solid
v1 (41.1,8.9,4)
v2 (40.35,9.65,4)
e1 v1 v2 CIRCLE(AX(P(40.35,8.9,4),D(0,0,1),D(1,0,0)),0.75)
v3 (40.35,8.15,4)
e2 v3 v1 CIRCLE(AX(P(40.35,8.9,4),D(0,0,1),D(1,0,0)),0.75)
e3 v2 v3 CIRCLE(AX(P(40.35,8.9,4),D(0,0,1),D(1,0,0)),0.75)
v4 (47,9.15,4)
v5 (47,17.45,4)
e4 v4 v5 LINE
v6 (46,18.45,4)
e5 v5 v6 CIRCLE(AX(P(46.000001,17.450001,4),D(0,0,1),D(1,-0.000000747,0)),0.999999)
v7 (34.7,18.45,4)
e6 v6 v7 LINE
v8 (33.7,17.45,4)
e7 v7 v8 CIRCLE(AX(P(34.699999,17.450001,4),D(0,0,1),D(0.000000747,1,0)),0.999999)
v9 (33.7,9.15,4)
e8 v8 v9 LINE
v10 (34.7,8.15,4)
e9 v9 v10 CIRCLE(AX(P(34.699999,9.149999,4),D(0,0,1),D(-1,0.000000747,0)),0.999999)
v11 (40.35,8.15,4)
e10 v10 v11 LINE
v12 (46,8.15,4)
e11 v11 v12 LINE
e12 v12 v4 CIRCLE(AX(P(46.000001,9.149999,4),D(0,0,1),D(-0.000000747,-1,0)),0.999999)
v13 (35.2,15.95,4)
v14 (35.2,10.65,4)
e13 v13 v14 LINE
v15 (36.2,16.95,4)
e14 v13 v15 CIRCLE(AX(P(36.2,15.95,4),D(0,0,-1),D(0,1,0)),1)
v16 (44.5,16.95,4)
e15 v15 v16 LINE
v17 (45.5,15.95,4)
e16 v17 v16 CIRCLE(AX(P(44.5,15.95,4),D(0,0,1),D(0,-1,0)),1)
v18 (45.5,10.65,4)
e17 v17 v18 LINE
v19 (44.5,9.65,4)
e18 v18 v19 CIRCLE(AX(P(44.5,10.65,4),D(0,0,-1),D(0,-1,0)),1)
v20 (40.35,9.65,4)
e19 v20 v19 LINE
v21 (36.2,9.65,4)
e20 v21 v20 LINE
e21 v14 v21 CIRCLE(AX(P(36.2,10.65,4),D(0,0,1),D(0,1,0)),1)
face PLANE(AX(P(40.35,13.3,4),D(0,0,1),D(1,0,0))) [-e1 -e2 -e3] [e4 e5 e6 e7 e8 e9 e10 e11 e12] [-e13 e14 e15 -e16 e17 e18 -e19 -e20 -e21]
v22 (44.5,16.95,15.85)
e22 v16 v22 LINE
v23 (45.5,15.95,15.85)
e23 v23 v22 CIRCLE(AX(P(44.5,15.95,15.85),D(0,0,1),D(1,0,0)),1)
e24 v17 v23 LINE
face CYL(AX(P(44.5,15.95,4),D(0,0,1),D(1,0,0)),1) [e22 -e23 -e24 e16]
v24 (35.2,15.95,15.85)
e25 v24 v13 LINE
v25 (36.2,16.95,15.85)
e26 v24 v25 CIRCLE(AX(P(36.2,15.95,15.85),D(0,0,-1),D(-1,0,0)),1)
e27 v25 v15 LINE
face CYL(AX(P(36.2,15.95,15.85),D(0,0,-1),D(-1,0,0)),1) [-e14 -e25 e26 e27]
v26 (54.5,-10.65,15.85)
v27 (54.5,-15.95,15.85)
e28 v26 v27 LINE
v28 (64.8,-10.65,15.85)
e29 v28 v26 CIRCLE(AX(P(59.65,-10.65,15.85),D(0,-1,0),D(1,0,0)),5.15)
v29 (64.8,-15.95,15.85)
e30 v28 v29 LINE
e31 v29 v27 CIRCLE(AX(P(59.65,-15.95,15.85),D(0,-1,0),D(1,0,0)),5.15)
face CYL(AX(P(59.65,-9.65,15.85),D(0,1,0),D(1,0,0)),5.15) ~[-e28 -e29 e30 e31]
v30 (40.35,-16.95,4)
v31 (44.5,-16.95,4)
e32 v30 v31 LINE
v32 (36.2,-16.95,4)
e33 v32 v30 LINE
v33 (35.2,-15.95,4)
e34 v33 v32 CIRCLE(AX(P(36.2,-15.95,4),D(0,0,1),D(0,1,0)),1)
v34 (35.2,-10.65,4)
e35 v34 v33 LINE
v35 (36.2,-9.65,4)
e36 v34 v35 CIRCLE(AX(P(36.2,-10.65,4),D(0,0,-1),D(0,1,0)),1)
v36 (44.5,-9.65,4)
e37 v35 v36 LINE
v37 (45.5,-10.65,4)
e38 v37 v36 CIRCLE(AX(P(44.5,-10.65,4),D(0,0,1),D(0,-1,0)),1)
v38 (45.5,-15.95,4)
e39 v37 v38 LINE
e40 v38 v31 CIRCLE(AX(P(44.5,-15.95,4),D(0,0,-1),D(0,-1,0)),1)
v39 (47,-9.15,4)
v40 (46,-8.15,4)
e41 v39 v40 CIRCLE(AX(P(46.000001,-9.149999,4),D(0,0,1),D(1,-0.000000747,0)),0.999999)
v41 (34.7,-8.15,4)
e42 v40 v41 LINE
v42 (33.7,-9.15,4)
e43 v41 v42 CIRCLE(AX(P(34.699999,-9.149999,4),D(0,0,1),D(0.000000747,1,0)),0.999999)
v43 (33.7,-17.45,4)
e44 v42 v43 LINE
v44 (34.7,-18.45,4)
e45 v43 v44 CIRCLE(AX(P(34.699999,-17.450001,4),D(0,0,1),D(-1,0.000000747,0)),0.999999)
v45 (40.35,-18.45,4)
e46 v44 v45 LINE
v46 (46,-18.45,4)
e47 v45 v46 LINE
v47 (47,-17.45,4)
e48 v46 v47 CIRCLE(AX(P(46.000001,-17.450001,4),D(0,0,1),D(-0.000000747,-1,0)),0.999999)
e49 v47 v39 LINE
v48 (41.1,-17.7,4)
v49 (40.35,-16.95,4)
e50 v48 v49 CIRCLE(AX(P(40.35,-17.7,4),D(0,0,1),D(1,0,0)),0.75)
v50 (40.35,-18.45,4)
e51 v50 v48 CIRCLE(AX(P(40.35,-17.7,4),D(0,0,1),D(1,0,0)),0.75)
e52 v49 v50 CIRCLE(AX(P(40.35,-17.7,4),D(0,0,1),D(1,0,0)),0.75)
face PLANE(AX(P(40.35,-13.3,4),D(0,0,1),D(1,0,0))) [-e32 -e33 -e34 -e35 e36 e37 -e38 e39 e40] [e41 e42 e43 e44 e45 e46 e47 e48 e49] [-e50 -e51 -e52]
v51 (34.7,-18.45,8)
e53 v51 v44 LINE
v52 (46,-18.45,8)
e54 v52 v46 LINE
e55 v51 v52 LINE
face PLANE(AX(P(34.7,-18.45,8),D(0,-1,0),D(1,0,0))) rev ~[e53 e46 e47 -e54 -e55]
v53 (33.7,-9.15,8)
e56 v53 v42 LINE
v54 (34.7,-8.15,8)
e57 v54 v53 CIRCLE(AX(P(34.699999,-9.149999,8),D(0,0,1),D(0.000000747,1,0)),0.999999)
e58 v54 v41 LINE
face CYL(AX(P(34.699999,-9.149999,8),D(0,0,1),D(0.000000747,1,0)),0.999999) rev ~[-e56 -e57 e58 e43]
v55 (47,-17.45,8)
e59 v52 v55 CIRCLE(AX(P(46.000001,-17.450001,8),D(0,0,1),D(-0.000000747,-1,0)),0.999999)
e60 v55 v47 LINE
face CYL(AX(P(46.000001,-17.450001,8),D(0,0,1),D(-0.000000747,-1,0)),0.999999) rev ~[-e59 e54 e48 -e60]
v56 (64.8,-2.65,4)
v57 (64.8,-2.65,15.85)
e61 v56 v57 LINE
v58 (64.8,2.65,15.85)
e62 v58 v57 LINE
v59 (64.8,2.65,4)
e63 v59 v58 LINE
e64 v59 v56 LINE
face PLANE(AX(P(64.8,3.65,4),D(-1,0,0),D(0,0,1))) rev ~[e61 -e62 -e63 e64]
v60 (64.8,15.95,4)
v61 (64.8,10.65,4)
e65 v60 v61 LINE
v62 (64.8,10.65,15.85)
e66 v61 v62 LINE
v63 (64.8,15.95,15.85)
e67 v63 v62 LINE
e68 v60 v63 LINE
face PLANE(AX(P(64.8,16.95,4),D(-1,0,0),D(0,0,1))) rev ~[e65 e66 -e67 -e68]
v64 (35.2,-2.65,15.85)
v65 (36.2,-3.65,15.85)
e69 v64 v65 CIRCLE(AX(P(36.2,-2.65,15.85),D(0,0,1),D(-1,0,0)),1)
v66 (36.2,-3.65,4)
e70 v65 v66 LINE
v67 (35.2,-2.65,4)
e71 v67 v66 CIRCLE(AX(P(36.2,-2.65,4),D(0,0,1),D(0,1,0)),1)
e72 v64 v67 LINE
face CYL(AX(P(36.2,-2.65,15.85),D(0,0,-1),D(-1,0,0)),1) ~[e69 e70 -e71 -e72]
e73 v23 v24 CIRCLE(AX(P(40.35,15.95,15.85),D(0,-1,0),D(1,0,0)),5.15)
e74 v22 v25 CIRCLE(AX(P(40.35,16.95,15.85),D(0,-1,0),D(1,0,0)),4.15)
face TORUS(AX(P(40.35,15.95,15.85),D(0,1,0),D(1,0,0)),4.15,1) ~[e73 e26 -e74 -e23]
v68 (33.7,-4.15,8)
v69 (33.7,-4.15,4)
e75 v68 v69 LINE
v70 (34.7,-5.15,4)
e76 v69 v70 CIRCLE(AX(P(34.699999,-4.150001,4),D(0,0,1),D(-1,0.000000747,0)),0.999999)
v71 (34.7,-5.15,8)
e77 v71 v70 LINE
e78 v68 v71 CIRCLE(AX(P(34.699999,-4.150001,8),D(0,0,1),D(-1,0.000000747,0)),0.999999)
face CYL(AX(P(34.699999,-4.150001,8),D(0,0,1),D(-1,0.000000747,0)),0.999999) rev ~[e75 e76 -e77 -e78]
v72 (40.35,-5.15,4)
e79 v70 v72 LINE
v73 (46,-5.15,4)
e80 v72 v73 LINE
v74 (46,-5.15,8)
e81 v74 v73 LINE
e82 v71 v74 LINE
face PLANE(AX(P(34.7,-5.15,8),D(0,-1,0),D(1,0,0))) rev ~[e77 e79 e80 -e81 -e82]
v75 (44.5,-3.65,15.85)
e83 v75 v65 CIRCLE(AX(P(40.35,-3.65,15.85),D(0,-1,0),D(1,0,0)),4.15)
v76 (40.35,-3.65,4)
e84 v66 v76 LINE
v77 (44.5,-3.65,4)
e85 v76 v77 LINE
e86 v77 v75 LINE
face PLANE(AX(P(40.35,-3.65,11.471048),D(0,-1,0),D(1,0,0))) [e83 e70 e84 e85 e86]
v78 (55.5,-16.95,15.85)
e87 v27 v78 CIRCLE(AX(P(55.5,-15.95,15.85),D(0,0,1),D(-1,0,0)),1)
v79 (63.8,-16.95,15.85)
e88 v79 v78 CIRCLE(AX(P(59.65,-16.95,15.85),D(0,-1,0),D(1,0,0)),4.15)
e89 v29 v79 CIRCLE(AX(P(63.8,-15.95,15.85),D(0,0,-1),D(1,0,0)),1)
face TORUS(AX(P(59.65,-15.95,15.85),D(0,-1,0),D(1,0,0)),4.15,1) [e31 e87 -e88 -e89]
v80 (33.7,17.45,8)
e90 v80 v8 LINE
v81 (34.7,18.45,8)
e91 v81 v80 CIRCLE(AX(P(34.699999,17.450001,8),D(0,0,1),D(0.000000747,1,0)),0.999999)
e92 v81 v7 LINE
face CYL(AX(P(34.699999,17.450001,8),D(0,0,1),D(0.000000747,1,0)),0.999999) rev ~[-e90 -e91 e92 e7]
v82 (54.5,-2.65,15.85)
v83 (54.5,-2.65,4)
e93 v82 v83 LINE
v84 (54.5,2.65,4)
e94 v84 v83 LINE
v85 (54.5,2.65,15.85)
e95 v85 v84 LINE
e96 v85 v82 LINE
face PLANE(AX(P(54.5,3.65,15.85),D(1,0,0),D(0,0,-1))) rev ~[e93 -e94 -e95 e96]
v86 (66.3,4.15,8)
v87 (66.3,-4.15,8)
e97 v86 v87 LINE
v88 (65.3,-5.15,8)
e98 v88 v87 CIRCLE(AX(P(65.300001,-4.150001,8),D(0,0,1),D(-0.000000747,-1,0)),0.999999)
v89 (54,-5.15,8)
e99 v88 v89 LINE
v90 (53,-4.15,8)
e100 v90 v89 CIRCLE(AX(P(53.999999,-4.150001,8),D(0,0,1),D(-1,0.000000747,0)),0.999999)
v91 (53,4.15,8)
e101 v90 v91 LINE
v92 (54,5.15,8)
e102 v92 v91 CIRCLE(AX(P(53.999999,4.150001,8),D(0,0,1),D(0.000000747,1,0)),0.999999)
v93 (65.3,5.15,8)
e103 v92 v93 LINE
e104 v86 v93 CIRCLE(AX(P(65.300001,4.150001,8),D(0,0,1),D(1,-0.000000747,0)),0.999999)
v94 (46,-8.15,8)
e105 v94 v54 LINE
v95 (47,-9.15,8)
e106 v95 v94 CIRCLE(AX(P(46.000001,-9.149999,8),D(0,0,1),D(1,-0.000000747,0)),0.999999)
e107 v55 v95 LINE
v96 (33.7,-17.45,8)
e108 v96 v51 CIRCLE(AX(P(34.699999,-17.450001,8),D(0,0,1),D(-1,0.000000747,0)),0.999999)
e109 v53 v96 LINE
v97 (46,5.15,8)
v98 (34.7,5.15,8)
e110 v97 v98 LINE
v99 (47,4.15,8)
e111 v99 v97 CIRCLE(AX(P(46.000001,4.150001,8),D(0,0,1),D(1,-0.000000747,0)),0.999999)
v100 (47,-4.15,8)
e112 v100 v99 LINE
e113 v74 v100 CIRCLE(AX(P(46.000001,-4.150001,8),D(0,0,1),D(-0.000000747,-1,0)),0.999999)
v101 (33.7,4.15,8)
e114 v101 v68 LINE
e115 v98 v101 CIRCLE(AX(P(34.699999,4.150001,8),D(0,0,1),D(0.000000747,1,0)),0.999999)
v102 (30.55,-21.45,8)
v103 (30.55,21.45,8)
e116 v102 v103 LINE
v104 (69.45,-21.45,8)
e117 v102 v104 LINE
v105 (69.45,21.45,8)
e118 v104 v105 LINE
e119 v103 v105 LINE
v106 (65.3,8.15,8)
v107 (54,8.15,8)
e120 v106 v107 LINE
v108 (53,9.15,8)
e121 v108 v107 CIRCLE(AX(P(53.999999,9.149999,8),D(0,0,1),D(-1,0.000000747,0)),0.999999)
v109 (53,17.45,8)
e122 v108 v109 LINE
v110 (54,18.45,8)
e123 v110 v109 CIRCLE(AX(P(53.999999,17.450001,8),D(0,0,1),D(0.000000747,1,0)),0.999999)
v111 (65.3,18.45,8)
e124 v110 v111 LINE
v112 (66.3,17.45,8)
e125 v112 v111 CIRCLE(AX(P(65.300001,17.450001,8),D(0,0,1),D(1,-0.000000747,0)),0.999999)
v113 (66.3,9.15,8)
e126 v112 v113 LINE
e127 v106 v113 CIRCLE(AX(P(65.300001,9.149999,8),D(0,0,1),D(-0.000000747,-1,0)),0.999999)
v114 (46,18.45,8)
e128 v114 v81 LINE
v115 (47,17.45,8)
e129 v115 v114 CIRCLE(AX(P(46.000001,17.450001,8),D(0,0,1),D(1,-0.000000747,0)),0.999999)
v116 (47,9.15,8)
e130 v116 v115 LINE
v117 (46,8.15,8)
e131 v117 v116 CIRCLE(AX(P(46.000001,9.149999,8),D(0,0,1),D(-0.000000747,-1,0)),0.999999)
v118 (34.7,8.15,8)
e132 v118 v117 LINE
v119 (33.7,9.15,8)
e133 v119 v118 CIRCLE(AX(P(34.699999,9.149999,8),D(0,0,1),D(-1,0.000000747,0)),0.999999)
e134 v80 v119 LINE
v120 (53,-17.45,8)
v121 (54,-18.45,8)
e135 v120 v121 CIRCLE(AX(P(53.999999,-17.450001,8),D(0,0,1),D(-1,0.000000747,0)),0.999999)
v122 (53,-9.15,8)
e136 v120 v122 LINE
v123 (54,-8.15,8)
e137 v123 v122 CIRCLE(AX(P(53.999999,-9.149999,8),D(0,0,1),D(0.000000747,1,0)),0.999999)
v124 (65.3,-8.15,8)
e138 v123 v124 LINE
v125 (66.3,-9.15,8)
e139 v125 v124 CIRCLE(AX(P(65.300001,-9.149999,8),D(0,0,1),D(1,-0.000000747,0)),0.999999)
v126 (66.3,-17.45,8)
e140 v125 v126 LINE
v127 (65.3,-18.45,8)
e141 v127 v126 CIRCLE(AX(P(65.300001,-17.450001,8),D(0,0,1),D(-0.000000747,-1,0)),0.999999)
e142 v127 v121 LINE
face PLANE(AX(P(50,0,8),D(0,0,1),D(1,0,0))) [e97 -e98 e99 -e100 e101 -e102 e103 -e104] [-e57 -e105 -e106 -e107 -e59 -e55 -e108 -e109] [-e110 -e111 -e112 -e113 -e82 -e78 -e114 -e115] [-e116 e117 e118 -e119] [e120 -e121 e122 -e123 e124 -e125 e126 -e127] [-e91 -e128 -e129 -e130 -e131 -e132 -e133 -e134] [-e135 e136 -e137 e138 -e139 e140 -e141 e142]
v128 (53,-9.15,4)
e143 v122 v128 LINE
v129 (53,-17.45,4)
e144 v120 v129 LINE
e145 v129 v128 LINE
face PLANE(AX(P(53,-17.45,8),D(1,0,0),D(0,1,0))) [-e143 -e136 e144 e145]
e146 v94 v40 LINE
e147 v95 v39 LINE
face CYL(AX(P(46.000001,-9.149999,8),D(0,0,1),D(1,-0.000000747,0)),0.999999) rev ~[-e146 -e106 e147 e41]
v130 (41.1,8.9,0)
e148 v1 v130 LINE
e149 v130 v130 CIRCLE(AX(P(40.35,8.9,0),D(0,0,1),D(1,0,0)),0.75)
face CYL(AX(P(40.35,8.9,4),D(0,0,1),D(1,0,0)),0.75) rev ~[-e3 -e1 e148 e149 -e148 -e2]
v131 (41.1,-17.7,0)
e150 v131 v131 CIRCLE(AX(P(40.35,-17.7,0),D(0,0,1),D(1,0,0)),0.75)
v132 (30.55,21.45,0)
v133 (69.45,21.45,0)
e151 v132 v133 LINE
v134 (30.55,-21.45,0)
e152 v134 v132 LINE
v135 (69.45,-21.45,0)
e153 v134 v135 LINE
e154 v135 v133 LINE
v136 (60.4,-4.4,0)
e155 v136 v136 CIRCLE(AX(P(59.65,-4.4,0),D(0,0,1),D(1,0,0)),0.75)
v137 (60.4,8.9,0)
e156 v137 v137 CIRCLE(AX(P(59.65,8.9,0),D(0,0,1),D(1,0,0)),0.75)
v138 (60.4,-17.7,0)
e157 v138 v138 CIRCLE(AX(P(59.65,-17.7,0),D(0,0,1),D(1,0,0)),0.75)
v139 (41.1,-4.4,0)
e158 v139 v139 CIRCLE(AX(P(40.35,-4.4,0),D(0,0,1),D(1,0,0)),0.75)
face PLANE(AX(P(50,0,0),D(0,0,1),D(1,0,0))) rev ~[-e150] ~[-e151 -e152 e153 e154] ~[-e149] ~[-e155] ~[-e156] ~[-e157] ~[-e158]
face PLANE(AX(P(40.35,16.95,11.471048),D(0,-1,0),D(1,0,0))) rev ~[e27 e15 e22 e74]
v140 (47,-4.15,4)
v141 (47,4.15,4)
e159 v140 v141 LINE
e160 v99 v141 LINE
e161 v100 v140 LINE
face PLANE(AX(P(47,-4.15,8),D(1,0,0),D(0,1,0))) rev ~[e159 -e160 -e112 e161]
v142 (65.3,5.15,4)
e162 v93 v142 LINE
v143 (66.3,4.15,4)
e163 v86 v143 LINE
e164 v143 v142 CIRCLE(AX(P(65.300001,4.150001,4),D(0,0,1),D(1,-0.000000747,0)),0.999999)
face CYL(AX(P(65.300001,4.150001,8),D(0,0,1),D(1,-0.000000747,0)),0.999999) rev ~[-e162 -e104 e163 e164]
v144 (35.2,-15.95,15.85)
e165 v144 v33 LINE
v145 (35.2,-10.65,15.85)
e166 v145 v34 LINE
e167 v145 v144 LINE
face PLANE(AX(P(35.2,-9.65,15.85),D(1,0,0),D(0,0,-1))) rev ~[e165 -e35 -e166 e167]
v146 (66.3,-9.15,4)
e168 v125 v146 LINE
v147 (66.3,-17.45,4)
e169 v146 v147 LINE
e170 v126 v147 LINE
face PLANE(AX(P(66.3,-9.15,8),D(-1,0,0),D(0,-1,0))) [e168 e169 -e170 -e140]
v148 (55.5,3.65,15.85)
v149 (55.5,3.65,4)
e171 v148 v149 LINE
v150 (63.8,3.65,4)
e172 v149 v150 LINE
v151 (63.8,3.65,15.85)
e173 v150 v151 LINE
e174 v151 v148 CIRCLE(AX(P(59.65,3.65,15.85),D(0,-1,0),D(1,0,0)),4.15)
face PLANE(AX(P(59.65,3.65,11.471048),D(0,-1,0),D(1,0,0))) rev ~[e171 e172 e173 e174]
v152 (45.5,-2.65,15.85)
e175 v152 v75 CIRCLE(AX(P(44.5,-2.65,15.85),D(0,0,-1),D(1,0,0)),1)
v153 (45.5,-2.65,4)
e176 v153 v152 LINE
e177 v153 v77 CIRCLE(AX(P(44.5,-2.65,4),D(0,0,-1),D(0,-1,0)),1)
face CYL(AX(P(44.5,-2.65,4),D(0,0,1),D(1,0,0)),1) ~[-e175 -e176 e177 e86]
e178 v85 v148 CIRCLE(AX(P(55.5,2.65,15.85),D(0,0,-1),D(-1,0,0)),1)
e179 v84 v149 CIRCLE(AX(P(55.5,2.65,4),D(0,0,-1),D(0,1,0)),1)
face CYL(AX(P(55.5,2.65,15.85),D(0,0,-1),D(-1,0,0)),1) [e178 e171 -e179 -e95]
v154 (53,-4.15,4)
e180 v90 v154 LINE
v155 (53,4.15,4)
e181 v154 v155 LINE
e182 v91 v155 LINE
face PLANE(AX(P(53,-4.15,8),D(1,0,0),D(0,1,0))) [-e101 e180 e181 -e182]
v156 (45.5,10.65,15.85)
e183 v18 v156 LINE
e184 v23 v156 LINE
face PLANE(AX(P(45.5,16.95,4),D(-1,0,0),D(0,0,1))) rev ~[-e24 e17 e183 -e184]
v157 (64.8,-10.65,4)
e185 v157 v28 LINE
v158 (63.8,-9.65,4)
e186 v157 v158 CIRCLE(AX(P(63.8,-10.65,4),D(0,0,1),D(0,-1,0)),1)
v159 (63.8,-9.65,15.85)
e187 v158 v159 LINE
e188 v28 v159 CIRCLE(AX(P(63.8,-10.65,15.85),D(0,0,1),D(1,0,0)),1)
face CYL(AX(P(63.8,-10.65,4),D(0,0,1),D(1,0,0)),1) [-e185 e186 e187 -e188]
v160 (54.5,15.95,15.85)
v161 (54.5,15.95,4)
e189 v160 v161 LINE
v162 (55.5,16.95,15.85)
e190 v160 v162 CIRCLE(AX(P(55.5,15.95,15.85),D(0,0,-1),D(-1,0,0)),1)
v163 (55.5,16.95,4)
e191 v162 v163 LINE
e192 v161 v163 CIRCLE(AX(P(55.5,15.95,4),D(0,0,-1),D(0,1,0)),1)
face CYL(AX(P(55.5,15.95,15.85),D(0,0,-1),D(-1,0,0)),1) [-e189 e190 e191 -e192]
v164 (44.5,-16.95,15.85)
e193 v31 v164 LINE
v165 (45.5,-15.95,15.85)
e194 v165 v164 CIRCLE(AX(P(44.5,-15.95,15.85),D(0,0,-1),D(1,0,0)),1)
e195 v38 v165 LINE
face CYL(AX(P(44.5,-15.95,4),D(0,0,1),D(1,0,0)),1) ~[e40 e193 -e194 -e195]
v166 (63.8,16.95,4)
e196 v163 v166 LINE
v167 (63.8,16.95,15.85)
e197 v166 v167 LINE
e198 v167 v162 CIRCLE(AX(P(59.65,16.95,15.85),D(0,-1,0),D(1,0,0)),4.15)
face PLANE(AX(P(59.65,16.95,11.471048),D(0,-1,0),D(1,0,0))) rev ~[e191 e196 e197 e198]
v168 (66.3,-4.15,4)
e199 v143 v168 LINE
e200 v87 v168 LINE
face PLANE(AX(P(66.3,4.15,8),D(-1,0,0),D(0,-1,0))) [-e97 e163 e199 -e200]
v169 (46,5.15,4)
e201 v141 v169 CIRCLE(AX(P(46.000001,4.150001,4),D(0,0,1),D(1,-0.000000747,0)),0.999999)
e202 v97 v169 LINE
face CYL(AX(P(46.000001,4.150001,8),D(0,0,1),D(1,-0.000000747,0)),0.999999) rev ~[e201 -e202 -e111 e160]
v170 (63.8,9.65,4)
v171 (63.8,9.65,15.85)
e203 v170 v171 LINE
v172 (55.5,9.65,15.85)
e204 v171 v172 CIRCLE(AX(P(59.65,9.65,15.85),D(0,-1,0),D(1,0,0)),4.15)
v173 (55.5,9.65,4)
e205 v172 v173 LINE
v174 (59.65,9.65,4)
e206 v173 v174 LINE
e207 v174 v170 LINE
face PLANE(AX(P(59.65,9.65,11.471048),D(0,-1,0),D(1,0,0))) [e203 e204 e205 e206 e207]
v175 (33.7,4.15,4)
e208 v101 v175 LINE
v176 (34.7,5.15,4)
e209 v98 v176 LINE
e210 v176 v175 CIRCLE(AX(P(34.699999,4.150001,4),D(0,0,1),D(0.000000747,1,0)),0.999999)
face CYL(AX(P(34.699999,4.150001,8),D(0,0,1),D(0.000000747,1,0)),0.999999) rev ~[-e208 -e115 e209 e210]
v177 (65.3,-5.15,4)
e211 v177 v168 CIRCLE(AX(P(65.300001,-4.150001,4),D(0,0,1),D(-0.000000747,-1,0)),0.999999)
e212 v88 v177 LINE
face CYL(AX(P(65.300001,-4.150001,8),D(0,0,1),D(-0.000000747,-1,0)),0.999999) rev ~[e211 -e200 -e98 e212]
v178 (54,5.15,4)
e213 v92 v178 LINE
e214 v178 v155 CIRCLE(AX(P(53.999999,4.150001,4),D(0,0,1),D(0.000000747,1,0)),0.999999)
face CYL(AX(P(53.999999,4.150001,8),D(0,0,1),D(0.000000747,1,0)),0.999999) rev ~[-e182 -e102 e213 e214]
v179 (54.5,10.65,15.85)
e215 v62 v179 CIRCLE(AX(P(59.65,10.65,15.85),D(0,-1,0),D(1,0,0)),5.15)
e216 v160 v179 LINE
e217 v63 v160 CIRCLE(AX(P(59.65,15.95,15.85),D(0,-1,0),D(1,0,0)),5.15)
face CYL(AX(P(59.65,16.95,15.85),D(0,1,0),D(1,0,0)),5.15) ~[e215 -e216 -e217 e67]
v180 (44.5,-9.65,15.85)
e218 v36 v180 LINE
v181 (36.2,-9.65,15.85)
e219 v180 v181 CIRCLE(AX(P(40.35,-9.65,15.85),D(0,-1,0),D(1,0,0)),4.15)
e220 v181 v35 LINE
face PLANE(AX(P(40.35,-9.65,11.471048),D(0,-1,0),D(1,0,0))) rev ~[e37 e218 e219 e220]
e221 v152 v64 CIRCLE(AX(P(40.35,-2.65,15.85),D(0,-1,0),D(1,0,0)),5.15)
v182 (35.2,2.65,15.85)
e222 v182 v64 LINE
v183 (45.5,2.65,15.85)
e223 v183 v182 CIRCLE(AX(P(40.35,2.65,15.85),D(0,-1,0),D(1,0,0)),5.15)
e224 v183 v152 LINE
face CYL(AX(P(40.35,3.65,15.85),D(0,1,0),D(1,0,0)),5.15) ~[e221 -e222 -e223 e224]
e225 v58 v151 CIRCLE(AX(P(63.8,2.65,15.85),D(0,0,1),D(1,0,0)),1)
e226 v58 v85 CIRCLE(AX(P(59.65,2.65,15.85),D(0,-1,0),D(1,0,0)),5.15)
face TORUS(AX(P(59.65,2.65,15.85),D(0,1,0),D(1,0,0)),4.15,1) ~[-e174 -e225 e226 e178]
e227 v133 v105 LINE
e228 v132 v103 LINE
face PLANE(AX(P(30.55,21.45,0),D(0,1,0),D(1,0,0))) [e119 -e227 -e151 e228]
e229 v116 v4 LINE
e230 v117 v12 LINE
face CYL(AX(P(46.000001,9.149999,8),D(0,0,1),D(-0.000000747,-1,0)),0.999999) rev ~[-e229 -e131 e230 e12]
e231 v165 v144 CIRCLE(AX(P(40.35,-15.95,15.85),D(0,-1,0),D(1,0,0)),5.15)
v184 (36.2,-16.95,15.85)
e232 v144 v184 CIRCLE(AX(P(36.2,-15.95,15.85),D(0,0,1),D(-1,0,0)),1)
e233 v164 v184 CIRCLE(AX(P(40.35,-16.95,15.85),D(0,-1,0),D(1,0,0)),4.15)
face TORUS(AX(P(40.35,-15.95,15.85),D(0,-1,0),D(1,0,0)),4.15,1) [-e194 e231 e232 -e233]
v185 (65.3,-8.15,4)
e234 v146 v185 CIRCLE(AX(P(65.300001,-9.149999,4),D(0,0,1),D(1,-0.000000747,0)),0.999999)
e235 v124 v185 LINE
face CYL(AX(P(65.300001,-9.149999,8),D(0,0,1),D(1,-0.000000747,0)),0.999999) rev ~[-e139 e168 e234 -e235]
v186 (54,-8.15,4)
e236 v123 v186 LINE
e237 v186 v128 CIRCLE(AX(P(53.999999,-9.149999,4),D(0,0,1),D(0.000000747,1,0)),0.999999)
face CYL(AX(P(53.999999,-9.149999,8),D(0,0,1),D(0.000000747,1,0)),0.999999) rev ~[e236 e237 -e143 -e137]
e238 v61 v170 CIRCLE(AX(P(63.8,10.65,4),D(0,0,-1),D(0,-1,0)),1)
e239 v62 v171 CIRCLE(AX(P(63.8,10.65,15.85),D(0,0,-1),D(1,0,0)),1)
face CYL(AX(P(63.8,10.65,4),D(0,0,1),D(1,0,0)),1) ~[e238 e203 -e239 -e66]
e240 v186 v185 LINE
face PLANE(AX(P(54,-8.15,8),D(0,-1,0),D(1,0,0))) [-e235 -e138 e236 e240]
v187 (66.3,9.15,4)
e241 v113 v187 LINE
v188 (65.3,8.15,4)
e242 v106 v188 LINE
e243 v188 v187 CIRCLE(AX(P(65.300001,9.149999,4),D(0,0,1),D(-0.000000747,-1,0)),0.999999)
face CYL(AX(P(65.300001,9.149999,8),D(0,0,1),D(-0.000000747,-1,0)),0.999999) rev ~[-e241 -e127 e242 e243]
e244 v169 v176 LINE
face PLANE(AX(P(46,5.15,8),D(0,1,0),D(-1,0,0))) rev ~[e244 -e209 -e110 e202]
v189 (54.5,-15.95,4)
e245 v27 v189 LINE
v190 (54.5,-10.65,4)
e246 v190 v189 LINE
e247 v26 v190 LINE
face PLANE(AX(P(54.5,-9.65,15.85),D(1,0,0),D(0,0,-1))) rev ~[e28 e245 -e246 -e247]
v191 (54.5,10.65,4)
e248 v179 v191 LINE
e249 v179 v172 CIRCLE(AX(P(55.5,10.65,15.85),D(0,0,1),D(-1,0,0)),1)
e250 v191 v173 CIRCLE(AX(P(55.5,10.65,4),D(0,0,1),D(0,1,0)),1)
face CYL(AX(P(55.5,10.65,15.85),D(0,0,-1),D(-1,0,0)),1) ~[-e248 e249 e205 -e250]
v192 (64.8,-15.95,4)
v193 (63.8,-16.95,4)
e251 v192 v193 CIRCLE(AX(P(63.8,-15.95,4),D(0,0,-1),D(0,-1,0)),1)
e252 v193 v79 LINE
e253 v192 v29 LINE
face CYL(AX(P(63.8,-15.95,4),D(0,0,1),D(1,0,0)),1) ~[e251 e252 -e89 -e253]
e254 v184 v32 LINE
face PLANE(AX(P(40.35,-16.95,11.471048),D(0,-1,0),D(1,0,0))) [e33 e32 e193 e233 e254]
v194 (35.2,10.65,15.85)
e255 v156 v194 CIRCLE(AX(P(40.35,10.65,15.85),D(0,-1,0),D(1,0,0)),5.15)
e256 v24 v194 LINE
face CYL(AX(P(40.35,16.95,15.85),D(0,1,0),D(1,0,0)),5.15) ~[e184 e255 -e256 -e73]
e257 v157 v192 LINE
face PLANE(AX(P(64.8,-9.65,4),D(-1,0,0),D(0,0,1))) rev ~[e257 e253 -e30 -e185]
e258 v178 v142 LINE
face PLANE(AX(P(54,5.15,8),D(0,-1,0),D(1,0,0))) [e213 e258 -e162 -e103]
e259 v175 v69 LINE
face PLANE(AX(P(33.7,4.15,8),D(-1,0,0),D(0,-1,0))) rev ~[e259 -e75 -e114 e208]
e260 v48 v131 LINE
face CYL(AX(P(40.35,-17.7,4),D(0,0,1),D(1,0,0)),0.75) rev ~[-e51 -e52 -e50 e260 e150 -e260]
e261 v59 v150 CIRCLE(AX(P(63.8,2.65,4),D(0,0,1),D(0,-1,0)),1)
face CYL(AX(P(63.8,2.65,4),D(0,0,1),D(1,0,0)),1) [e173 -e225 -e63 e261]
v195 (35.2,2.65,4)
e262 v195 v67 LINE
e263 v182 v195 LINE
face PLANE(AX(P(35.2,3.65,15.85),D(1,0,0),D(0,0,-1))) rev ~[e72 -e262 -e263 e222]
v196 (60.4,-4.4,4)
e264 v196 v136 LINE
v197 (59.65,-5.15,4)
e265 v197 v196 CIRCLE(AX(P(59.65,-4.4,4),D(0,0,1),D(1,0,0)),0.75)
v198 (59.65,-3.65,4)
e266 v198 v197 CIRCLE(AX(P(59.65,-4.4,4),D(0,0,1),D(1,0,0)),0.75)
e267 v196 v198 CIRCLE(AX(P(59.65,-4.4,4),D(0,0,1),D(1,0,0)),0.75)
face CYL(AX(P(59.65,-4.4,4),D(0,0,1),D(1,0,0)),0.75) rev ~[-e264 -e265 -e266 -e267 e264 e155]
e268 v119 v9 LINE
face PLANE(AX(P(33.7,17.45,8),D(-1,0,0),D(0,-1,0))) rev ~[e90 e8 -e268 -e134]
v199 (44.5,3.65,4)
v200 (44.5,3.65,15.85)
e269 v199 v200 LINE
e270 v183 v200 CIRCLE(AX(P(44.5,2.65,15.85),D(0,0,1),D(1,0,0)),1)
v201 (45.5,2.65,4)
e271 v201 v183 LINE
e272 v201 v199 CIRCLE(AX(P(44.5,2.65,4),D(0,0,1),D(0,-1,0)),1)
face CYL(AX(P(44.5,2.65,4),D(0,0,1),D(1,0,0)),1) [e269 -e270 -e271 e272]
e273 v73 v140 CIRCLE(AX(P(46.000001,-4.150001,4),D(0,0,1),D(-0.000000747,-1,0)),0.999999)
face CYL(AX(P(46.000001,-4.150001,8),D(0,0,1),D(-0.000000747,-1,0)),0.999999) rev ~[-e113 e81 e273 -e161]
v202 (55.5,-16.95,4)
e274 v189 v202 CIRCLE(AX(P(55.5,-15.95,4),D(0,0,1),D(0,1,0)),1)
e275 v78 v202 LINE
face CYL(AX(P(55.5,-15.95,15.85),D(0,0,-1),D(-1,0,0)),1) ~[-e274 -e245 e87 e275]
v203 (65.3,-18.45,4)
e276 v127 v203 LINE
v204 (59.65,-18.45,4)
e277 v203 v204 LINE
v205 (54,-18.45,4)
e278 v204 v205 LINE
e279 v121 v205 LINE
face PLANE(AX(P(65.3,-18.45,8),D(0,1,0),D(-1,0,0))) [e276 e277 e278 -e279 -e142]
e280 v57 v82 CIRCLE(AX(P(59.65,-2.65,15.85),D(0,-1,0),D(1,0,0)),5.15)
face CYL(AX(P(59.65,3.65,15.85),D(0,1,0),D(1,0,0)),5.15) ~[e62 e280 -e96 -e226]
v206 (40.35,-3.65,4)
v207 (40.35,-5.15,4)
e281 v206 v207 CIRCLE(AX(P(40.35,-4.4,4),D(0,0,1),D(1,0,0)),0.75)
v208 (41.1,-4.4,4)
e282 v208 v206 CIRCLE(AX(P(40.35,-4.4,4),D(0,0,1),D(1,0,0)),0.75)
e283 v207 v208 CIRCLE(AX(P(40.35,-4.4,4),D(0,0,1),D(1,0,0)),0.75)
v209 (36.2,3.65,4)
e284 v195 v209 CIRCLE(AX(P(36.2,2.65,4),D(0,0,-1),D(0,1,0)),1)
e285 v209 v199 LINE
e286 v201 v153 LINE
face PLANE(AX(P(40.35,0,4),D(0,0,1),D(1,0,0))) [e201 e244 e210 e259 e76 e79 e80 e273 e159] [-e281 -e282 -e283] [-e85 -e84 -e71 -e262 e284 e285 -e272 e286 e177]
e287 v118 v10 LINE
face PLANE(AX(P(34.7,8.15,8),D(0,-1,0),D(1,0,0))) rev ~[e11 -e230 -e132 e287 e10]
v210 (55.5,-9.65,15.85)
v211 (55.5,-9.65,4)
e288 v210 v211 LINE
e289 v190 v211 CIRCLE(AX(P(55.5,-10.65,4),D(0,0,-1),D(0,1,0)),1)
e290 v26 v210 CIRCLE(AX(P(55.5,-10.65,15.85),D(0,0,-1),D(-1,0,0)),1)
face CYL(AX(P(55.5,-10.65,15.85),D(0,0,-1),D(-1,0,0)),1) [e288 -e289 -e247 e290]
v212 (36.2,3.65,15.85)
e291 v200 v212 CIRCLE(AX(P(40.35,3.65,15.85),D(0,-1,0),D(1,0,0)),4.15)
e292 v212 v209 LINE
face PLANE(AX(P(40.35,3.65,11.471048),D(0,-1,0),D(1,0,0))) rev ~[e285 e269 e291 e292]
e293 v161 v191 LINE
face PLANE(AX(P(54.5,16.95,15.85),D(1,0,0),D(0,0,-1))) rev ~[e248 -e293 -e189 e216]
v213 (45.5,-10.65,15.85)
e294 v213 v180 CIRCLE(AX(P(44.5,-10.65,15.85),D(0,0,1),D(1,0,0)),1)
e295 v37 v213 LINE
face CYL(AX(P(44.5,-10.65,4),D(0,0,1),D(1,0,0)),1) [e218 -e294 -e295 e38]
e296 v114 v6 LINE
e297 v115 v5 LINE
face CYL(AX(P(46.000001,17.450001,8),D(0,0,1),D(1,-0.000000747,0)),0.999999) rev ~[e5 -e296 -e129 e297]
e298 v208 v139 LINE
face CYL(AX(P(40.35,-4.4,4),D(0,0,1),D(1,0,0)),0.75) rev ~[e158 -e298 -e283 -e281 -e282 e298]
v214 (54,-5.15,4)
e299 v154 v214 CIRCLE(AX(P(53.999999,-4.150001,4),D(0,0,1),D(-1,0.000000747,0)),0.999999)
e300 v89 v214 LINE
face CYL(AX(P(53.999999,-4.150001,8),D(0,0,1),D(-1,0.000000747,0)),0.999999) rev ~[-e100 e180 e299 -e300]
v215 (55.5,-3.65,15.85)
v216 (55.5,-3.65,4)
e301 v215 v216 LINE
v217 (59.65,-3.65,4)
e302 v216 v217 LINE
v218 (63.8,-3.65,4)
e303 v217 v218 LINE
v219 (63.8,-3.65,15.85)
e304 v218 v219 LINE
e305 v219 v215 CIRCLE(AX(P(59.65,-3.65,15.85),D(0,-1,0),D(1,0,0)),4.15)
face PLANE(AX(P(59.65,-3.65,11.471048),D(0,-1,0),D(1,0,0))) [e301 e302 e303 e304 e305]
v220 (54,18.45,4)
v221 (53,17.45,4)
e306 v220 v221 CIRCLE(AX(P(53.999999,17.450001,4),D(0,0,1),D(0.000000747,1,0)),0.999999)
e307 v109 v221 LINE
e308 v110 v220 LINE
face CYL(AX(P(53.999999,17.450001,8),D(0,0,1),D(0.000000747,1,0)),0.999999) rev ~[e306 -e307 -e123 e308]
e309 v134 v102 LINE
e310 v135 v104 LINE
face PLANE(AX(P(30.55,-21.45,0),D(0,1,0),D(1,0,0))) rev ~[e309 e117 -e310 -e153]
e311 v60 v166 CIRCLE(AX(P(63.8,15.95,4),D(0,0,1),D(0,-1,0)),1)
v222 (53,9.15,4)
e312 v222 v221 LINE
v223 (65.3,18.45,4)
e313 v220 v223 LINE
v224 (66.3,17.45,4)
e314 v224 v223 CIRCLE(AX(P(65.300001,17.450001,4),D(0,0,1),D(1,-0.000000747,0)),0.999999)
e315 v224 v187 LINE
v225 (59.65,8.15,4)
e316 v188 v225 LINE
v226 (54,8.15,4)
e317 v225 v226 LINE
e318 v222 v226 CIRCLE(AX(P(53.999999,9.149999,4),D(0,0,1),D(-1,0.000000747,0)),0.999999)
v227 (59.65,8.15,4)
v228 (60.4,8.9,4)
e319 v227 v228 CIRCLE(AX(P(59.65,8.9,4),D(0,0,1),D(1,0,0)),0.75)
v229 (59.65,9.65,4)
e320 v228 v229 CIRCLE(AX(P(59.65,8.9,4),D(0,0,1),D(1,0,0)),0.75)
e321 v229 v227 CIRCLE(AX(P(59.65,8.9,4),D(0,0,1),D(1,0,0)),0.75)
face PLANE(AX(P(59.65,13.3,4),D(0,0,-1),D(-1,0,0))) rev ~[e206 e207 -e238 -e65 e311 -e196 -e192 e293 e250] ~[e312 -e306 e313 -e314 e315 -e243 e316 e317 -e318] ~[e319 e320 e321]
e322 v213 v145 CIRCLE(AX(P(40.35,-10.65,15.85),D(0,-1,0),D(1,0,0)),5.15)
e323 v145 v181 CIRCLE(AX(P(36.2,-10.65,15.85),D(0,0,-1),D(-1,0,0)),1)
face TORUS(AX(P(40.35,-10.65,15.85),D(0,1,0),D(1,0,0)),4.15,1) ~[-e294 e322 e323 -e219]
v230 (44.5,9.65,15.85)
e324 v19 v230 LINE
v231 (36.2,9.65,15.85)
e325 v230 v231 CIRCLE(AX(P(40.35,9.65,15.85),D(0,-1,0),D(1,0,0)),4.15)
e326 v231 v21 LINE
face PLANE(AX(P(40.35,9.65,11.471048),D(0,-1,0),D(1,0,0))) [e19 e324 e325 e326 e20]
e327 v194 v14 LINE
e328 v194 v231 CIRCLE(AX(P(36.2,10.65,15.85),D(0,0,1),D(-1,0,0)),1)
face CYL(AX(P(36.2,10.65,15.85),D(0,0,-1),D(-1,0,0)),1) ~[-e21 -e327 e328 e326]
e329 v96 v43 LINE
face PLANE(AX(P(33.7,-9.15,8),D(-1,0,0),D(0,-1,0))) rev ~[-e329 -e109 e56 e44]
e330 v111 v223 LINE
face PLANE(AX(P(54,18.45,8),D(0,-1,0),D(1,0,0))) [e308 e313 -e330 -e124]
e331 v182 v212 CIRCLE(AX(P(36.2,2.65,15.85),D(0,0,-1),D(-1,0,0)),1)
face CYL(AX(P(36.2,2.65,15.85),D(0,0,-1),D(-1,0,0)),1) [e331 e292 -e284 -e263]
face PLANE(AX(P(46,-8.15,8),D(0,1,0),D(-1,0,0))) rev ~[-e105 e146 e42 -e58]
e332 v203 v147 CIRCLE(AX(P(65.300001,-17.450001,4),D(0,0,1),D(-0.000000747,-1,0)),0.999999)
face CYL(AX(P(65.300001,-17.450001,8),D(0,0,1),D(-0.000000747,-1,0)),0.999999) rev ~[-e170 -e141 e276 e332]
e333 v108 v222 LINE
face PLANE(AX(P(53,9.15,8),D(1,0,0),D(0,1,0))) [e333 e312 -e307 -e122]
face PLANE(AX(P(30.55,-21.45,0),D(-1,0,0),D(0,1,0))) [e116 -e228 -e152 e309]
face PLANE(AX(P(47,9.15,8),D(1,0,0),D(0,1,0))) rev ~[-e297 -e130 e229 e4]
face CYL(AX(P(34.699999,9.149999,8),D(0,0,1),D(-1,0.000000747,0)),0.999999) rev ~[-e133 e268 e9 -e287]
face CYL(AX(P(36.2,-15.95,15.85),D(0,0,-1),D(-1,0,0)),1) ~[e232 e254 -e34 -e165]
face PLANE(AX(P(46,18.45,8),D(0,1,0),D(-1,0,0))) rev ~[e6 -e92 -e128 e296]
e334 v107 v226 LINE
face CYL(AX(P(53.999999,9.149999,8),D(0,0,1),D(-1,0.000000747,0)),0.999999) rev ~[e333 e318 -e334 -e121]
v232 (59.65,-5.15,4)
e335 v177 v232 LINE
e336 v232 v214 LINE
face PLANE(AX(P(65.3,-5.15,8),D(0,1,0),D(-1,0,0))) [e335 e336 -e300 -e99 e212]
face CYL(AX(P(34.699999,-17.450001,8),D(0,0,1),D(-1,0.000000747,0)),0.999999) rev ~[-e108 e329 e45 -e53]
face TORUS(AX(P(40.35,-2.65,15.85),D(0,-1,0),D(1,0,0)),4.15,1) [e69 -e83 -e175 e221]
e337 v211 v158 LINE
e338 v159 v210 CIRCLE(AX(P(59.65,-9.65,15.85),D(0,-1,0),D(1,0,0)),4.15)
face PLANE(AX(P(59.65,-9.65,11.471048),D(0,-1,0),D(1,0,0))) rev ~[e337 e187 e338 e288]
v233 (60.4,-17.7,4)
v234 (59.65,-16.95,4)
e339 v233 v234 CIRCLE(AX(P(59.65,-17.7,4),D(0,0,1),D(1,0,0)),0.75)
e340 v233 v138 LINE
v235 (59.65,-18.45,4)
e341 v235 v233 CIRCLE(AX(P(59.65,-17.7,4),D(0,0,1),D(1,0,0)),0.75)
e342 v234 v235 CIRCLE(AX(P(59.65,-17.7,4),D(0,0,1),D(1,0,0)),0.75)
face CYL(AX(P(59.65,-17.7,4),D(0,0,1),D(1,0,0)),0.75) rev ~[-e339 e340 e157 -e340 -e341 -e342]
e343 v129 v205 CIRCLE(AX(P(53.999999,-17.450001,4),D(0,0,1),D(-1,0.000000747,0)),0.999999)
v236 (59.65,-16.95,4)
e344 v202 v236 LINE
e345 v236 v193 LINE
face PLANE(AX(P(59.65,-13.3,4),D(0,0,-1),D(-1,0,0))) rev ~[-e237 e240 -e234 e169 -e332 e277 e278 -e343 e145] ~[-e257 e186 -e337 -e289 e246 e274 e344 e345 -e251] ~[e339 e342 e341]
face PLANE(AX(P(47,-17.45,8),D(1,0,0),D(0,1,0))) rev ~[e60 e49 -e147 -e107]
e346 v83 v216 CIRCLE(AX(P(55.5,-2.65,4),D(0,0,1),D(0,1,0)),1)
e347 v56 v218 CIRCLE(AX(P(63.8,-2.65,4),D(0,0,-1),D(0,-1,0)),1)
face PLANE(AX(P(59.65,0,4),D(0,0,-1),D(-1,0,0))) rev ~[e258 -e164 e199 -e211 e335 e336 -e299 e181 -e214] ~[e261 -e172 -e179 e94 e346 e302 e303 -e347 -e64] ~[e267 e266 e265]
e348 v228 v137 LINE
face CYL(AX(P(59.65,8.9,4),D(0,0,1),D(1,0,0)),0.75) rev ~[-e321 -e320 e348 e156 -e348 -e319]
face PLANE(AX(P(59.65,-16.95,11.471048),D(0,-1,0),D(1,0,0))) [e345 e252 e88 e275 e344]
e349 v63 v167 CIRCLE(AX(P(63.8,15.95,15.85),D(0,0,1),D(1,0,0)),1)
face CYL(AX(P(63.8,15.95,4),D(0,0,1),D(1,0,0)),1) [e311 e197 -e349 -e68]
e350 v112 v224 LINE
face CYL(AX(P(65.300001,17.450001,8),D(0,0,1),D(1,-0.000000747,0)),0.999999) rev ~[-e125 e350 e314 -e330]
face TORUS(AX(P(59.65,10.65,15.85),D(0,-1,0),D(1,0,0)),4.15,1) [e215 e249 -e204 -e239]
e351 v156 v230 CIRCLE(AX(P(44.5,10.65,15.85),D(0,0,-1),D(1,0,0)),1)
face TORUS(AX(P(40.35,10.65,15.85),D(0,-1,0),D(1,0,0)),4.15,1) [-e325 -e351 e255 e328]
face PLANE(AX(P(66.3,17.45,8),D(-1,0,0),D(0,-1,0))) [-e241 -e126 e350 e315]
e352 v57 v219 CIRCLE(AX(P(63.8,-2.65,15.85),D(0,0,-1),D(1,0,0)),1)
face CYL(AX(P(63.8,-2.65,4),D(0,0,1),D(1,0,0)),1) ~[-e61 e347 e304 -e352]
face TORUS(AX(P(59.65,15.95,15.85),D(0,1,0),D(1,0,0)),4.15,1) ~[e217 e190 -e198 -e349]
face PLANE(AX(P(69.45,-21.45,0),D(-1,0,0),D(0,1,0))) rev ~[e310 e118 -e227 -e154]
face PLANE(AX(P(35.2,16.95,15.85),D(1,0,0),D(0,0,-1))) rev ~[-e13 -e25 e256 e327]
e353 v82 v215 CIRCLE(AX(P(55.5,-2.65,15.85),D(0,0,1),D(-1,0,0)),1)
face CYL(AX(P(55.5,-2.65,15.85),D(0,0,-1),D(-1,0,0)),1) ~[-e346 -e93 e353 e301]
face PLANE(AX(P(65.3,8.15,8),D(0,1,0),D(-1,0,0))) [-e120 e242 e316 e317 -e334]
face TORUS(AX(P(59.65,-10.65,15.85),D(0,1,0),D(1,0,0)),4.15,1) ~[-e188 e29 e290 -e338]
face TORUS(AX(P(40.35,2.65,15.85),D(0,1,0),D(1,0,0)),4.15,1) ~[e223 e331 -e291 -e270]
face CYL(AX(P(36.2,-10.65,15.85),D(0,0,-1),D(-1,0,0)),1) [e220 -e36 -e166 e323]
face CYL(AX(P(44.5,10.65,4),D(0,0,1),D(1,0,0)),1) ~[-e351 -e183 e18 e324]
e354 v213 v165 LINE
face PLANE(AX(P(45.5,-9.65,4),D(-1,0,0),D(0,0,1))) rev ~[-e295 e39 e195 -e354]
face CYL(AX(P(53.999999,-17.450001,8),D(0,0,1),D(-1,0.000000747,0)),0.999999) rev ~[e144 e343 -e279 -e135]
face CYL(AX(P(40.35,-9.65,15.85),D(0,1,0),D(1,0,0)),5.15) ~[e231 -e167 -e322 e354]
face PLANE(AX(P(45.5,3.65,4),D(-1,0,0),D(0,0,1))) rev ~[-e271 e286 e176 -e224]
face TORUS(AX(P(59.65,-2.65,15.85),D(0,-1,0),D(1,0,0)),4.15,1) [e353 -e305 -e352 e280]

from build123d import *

# Parameters (mm, degrees)
PAD003_DEPTH           = 7.3
FILLET001_R            = 1
SKETCH003_W            = 38.9
SKETCH003_H            = 42.9
PAD002_DEPTH           = 8
POCKET001_DEPTH        = 4
LINEARPATTERN_COUNT    = 3
LINEARPATTERN_PITCH    = 13.3
POCKET002_DEPTH        = 4
LINEARPATTERN001_COUNT = 3
LINEARPATTERN001_PITCH = 13.3
SKETCH007_R            = 0.75
POCKET003_DEPTH        = 5
LINEARPATTERN002_COUNT = 3
LINEARPATTERN002_PITCH = 13.3
SKETCH008_R            = 0.75
POCKET004_DEPTH        = 5
LINEARPATTERN003_COUNT = 3
LINEARPATTERN003_PITCH = 13.3


with BuildPart() as finger001:
    # Sketch006 → Pad003 (new body)
    with BuildSketch(Plane.XZ):
        with BuildLine():
            Line((5.15, 0), (5.15, 11.85))
            ThreePointArc((5.15, 11.85), (0, 17), (-5.15, 11.85))
            Line((-5.15, 11.85), (-5.15, 0))
            Line((-5.15, 0), (5.15, 0))
        make_face()
    extrude(amount=PAD003_DEPTH)

    # Fillet001
    fillet001_edges = [finger001.edges().sort_by_distance(p)[0] for p in [
        (-5.15, -7.3, 5.925),
        (0, -7.3, 17),
        (5.15, -7.3, 5.925),
        (5.15, 0, 5.925),
        (0, 0, 17),
        (-5.15, 0, 5.925),
    ]]
    fillet(fillet001_edges, radius=FILLET001_R)


with BuildPart() as finger001_1:
    # Body003 placement: moved
    add(finger001.part.moved(Location((9.65, 16.95, 4))))


with BuildPart() as finger001_2:
    # Clone006 placement: moved
    add(finger001_1.part.moved(Location((0, -13.3, 0))))


with BuildPart() as finger002:
    # Clone007 base: copy of finger001
    add(finger001_2.part)


with BuildPart() as finger002_1:
    # Clone007 placement: moved
    add(finger002.part.moved(Location((0, -13.3, 0))))


with BuildPart() as finger003:
    # Clone008 base: copy of finger002
    add(finger002_1.part)


with BuildPart() as finger003_1:
    # Clone008 placement: moved
    add(finger003.part.moved(Location((-19.3, 26.6, 0))))


with BuildPart() as finger004:
    # Clone009 base: copy of finger003
    add(finger003_1.part)


with BuildPart() as finger004_1:
    # Clone009 placement: moved
    add(finger004.part.moved(Location((0, -13.3, 0))))


with BuildPart() as finger005:
    # Clone010 base: copy of finger004
    add(finger004_1.part)


with BuildPart() as finger005_1:
    # Clone010 placement: moved
    add(finger005.part.moved(Location((0, -13.3, 0))))


with BuildPart() as finger006:
    # Clone011 base: copy of finger005
    add(finger005_1.part)


with BuildPart() as finger006_1:
    # Clone011 placement: moved
    add(finger006.part.moved(Location((19.3, 26.6, 0))))


with BuildPart() as mold_top:
    # Sketch003 → Pad002 (new body)
    with BuildSketch(Plane.XY):
        Rectangle(SKETCH003_W, SKETCH003_H)
    extrude(amount=PAD002_DEPTH)

    # Sketch004 (on Face6 of Pad002) → Pocket001 (cut)
    with BuildSketch(Plane.XY.offset(8)):
        with BuildLine():
            Line((-16.3, -9.15), (-16.3, -17.45))
            ThreePointArc((-16.3, -17.45), (-16.007107, -18.157107), (-15.3, -18.45))
            Line((-15.3, -18.45), (-4, -18.45))
            ThreePointArc((-4, -18.45), (-3.292893, -18.157107), (-3, -17.45))
            Line((-3, -17.45), (-3, -9.15))
            ThreePointArc((-3, -9.15), (-3.292893, -8.442893), (-4, -8.15))
            Line((-4, -8.15), (-15.3, -8.15))
            ThreePointArc((-15.3, -8.15), (-16.007107, -8.442893), (-16.3, -9.15))
        make_face()
    pocket001 = extrude(amount=-POCKET001_DEPTH, mode=Mode.SUBTRACT)

    # LinearPattern: Pocket001 ×3
    with Locations(*[(0, i * LINEARPATTERN_PITCH, 0) for i in range(1, LINEARPATTERN_COUNT)]):
        add(pocket001, mode=Mode.SUBTRACT)

    # Sketch005 (on Face5 of LinearPattern) → Pocket002 (cut)
    with BuildSketch(Plane.XY.offset(8)):
        with BuildLine():
            Line((4, -8.15), (15.3, -8.15))
            ThreePointArc((16.3, -9.15), (16.007107, -8.442893), (15.3, -8.15))
            Line((16.3, -9.15), (16.3, -17.45))
            ThreePointArc((15.3, -18.45), (16.007107, -18.157107), (16.3, -17.45))
            Line((15.3, -18.45), (4, -18.45))
            ThreePointArc((3, -17.45), (3.292893, -18.157107), (4, -18.45))
            Line((3, -17.45), (3, -9.15))
            ThreePointArc((4, -8.15), (3.292893, -8.442893), (3, -9.15))
        make_face()
    pocket002 = extrude(amount=-POCKET002_DEPTH, mode=Mode.SUBTRACT)

    # LinearPattern001: Pocket002 ×3
    with Locations(*[(0, i * LINEARPATTERN001_PITCH, 0) for i in range(1, LINEARPATTERN001_COUNT)]):
        add(pocket002, mode=Mode.SUBTRACT)

    # Sketch007 (on Face40 of Pocket002) → Pocket003 (cut)
    with BuildSketch(Plane.XY.offset(4)):
        with Locations((-9.65, -17.7)):
            Circle(SKETCH007_R)
    pocket003 = extrude(amount=-POCKET003_DEPTH, mode=Mode.SUBTRACT)

    # LinearPattern002: Pocket003 ×3
    with Locations(*[(0, i * LINEARPATTERN002_PITCH, 0) for i in range(1, LINEARPATTERN002_COUNT)]):
        add(pocket003, mode=Mode.SUBTRACT)

    # Sketch008 (on Face61 of LinearPattern002) → Pocket004 (cut)
    with BuildSketch(Plane.XY.offset(4)):
        with Locations((9.65, -17.7)):
            Circle(SKETCH008_R)
    pocket004 = extrude(amount=-POCKET004_DEPTH, mode=Mode.SUBTRACT)

    # LinearPattern003: Pocket004 ×3
    with Locations(*[(0, i * LINEARPATTERN003_PITCH, 0) for i in range(1, LINEARPATTERN003_COUNT)]):
        add(pocket004, mode=Mode.SUBTRACT)

    # Fusion: union finger006
    add(finger006_1.part)

    # Fusion001: union finger001
    add(finger001_2.part)

    # Fusion002: union finger002
    add(finger002_1.part)

    # Fusion003: union finger003
    add(finger003_1.part)

    # Fusion004: union finger004
    add(finger004_1.part)

    # Fusion005: union finger005
    add(finger005_1.part)


with BuildPart() as mold_top_1:
    # Fusion005 placement: moved
    add(mold_top.part.moved(Location((50, 0, 0))))


solid = mold_top_1.part
